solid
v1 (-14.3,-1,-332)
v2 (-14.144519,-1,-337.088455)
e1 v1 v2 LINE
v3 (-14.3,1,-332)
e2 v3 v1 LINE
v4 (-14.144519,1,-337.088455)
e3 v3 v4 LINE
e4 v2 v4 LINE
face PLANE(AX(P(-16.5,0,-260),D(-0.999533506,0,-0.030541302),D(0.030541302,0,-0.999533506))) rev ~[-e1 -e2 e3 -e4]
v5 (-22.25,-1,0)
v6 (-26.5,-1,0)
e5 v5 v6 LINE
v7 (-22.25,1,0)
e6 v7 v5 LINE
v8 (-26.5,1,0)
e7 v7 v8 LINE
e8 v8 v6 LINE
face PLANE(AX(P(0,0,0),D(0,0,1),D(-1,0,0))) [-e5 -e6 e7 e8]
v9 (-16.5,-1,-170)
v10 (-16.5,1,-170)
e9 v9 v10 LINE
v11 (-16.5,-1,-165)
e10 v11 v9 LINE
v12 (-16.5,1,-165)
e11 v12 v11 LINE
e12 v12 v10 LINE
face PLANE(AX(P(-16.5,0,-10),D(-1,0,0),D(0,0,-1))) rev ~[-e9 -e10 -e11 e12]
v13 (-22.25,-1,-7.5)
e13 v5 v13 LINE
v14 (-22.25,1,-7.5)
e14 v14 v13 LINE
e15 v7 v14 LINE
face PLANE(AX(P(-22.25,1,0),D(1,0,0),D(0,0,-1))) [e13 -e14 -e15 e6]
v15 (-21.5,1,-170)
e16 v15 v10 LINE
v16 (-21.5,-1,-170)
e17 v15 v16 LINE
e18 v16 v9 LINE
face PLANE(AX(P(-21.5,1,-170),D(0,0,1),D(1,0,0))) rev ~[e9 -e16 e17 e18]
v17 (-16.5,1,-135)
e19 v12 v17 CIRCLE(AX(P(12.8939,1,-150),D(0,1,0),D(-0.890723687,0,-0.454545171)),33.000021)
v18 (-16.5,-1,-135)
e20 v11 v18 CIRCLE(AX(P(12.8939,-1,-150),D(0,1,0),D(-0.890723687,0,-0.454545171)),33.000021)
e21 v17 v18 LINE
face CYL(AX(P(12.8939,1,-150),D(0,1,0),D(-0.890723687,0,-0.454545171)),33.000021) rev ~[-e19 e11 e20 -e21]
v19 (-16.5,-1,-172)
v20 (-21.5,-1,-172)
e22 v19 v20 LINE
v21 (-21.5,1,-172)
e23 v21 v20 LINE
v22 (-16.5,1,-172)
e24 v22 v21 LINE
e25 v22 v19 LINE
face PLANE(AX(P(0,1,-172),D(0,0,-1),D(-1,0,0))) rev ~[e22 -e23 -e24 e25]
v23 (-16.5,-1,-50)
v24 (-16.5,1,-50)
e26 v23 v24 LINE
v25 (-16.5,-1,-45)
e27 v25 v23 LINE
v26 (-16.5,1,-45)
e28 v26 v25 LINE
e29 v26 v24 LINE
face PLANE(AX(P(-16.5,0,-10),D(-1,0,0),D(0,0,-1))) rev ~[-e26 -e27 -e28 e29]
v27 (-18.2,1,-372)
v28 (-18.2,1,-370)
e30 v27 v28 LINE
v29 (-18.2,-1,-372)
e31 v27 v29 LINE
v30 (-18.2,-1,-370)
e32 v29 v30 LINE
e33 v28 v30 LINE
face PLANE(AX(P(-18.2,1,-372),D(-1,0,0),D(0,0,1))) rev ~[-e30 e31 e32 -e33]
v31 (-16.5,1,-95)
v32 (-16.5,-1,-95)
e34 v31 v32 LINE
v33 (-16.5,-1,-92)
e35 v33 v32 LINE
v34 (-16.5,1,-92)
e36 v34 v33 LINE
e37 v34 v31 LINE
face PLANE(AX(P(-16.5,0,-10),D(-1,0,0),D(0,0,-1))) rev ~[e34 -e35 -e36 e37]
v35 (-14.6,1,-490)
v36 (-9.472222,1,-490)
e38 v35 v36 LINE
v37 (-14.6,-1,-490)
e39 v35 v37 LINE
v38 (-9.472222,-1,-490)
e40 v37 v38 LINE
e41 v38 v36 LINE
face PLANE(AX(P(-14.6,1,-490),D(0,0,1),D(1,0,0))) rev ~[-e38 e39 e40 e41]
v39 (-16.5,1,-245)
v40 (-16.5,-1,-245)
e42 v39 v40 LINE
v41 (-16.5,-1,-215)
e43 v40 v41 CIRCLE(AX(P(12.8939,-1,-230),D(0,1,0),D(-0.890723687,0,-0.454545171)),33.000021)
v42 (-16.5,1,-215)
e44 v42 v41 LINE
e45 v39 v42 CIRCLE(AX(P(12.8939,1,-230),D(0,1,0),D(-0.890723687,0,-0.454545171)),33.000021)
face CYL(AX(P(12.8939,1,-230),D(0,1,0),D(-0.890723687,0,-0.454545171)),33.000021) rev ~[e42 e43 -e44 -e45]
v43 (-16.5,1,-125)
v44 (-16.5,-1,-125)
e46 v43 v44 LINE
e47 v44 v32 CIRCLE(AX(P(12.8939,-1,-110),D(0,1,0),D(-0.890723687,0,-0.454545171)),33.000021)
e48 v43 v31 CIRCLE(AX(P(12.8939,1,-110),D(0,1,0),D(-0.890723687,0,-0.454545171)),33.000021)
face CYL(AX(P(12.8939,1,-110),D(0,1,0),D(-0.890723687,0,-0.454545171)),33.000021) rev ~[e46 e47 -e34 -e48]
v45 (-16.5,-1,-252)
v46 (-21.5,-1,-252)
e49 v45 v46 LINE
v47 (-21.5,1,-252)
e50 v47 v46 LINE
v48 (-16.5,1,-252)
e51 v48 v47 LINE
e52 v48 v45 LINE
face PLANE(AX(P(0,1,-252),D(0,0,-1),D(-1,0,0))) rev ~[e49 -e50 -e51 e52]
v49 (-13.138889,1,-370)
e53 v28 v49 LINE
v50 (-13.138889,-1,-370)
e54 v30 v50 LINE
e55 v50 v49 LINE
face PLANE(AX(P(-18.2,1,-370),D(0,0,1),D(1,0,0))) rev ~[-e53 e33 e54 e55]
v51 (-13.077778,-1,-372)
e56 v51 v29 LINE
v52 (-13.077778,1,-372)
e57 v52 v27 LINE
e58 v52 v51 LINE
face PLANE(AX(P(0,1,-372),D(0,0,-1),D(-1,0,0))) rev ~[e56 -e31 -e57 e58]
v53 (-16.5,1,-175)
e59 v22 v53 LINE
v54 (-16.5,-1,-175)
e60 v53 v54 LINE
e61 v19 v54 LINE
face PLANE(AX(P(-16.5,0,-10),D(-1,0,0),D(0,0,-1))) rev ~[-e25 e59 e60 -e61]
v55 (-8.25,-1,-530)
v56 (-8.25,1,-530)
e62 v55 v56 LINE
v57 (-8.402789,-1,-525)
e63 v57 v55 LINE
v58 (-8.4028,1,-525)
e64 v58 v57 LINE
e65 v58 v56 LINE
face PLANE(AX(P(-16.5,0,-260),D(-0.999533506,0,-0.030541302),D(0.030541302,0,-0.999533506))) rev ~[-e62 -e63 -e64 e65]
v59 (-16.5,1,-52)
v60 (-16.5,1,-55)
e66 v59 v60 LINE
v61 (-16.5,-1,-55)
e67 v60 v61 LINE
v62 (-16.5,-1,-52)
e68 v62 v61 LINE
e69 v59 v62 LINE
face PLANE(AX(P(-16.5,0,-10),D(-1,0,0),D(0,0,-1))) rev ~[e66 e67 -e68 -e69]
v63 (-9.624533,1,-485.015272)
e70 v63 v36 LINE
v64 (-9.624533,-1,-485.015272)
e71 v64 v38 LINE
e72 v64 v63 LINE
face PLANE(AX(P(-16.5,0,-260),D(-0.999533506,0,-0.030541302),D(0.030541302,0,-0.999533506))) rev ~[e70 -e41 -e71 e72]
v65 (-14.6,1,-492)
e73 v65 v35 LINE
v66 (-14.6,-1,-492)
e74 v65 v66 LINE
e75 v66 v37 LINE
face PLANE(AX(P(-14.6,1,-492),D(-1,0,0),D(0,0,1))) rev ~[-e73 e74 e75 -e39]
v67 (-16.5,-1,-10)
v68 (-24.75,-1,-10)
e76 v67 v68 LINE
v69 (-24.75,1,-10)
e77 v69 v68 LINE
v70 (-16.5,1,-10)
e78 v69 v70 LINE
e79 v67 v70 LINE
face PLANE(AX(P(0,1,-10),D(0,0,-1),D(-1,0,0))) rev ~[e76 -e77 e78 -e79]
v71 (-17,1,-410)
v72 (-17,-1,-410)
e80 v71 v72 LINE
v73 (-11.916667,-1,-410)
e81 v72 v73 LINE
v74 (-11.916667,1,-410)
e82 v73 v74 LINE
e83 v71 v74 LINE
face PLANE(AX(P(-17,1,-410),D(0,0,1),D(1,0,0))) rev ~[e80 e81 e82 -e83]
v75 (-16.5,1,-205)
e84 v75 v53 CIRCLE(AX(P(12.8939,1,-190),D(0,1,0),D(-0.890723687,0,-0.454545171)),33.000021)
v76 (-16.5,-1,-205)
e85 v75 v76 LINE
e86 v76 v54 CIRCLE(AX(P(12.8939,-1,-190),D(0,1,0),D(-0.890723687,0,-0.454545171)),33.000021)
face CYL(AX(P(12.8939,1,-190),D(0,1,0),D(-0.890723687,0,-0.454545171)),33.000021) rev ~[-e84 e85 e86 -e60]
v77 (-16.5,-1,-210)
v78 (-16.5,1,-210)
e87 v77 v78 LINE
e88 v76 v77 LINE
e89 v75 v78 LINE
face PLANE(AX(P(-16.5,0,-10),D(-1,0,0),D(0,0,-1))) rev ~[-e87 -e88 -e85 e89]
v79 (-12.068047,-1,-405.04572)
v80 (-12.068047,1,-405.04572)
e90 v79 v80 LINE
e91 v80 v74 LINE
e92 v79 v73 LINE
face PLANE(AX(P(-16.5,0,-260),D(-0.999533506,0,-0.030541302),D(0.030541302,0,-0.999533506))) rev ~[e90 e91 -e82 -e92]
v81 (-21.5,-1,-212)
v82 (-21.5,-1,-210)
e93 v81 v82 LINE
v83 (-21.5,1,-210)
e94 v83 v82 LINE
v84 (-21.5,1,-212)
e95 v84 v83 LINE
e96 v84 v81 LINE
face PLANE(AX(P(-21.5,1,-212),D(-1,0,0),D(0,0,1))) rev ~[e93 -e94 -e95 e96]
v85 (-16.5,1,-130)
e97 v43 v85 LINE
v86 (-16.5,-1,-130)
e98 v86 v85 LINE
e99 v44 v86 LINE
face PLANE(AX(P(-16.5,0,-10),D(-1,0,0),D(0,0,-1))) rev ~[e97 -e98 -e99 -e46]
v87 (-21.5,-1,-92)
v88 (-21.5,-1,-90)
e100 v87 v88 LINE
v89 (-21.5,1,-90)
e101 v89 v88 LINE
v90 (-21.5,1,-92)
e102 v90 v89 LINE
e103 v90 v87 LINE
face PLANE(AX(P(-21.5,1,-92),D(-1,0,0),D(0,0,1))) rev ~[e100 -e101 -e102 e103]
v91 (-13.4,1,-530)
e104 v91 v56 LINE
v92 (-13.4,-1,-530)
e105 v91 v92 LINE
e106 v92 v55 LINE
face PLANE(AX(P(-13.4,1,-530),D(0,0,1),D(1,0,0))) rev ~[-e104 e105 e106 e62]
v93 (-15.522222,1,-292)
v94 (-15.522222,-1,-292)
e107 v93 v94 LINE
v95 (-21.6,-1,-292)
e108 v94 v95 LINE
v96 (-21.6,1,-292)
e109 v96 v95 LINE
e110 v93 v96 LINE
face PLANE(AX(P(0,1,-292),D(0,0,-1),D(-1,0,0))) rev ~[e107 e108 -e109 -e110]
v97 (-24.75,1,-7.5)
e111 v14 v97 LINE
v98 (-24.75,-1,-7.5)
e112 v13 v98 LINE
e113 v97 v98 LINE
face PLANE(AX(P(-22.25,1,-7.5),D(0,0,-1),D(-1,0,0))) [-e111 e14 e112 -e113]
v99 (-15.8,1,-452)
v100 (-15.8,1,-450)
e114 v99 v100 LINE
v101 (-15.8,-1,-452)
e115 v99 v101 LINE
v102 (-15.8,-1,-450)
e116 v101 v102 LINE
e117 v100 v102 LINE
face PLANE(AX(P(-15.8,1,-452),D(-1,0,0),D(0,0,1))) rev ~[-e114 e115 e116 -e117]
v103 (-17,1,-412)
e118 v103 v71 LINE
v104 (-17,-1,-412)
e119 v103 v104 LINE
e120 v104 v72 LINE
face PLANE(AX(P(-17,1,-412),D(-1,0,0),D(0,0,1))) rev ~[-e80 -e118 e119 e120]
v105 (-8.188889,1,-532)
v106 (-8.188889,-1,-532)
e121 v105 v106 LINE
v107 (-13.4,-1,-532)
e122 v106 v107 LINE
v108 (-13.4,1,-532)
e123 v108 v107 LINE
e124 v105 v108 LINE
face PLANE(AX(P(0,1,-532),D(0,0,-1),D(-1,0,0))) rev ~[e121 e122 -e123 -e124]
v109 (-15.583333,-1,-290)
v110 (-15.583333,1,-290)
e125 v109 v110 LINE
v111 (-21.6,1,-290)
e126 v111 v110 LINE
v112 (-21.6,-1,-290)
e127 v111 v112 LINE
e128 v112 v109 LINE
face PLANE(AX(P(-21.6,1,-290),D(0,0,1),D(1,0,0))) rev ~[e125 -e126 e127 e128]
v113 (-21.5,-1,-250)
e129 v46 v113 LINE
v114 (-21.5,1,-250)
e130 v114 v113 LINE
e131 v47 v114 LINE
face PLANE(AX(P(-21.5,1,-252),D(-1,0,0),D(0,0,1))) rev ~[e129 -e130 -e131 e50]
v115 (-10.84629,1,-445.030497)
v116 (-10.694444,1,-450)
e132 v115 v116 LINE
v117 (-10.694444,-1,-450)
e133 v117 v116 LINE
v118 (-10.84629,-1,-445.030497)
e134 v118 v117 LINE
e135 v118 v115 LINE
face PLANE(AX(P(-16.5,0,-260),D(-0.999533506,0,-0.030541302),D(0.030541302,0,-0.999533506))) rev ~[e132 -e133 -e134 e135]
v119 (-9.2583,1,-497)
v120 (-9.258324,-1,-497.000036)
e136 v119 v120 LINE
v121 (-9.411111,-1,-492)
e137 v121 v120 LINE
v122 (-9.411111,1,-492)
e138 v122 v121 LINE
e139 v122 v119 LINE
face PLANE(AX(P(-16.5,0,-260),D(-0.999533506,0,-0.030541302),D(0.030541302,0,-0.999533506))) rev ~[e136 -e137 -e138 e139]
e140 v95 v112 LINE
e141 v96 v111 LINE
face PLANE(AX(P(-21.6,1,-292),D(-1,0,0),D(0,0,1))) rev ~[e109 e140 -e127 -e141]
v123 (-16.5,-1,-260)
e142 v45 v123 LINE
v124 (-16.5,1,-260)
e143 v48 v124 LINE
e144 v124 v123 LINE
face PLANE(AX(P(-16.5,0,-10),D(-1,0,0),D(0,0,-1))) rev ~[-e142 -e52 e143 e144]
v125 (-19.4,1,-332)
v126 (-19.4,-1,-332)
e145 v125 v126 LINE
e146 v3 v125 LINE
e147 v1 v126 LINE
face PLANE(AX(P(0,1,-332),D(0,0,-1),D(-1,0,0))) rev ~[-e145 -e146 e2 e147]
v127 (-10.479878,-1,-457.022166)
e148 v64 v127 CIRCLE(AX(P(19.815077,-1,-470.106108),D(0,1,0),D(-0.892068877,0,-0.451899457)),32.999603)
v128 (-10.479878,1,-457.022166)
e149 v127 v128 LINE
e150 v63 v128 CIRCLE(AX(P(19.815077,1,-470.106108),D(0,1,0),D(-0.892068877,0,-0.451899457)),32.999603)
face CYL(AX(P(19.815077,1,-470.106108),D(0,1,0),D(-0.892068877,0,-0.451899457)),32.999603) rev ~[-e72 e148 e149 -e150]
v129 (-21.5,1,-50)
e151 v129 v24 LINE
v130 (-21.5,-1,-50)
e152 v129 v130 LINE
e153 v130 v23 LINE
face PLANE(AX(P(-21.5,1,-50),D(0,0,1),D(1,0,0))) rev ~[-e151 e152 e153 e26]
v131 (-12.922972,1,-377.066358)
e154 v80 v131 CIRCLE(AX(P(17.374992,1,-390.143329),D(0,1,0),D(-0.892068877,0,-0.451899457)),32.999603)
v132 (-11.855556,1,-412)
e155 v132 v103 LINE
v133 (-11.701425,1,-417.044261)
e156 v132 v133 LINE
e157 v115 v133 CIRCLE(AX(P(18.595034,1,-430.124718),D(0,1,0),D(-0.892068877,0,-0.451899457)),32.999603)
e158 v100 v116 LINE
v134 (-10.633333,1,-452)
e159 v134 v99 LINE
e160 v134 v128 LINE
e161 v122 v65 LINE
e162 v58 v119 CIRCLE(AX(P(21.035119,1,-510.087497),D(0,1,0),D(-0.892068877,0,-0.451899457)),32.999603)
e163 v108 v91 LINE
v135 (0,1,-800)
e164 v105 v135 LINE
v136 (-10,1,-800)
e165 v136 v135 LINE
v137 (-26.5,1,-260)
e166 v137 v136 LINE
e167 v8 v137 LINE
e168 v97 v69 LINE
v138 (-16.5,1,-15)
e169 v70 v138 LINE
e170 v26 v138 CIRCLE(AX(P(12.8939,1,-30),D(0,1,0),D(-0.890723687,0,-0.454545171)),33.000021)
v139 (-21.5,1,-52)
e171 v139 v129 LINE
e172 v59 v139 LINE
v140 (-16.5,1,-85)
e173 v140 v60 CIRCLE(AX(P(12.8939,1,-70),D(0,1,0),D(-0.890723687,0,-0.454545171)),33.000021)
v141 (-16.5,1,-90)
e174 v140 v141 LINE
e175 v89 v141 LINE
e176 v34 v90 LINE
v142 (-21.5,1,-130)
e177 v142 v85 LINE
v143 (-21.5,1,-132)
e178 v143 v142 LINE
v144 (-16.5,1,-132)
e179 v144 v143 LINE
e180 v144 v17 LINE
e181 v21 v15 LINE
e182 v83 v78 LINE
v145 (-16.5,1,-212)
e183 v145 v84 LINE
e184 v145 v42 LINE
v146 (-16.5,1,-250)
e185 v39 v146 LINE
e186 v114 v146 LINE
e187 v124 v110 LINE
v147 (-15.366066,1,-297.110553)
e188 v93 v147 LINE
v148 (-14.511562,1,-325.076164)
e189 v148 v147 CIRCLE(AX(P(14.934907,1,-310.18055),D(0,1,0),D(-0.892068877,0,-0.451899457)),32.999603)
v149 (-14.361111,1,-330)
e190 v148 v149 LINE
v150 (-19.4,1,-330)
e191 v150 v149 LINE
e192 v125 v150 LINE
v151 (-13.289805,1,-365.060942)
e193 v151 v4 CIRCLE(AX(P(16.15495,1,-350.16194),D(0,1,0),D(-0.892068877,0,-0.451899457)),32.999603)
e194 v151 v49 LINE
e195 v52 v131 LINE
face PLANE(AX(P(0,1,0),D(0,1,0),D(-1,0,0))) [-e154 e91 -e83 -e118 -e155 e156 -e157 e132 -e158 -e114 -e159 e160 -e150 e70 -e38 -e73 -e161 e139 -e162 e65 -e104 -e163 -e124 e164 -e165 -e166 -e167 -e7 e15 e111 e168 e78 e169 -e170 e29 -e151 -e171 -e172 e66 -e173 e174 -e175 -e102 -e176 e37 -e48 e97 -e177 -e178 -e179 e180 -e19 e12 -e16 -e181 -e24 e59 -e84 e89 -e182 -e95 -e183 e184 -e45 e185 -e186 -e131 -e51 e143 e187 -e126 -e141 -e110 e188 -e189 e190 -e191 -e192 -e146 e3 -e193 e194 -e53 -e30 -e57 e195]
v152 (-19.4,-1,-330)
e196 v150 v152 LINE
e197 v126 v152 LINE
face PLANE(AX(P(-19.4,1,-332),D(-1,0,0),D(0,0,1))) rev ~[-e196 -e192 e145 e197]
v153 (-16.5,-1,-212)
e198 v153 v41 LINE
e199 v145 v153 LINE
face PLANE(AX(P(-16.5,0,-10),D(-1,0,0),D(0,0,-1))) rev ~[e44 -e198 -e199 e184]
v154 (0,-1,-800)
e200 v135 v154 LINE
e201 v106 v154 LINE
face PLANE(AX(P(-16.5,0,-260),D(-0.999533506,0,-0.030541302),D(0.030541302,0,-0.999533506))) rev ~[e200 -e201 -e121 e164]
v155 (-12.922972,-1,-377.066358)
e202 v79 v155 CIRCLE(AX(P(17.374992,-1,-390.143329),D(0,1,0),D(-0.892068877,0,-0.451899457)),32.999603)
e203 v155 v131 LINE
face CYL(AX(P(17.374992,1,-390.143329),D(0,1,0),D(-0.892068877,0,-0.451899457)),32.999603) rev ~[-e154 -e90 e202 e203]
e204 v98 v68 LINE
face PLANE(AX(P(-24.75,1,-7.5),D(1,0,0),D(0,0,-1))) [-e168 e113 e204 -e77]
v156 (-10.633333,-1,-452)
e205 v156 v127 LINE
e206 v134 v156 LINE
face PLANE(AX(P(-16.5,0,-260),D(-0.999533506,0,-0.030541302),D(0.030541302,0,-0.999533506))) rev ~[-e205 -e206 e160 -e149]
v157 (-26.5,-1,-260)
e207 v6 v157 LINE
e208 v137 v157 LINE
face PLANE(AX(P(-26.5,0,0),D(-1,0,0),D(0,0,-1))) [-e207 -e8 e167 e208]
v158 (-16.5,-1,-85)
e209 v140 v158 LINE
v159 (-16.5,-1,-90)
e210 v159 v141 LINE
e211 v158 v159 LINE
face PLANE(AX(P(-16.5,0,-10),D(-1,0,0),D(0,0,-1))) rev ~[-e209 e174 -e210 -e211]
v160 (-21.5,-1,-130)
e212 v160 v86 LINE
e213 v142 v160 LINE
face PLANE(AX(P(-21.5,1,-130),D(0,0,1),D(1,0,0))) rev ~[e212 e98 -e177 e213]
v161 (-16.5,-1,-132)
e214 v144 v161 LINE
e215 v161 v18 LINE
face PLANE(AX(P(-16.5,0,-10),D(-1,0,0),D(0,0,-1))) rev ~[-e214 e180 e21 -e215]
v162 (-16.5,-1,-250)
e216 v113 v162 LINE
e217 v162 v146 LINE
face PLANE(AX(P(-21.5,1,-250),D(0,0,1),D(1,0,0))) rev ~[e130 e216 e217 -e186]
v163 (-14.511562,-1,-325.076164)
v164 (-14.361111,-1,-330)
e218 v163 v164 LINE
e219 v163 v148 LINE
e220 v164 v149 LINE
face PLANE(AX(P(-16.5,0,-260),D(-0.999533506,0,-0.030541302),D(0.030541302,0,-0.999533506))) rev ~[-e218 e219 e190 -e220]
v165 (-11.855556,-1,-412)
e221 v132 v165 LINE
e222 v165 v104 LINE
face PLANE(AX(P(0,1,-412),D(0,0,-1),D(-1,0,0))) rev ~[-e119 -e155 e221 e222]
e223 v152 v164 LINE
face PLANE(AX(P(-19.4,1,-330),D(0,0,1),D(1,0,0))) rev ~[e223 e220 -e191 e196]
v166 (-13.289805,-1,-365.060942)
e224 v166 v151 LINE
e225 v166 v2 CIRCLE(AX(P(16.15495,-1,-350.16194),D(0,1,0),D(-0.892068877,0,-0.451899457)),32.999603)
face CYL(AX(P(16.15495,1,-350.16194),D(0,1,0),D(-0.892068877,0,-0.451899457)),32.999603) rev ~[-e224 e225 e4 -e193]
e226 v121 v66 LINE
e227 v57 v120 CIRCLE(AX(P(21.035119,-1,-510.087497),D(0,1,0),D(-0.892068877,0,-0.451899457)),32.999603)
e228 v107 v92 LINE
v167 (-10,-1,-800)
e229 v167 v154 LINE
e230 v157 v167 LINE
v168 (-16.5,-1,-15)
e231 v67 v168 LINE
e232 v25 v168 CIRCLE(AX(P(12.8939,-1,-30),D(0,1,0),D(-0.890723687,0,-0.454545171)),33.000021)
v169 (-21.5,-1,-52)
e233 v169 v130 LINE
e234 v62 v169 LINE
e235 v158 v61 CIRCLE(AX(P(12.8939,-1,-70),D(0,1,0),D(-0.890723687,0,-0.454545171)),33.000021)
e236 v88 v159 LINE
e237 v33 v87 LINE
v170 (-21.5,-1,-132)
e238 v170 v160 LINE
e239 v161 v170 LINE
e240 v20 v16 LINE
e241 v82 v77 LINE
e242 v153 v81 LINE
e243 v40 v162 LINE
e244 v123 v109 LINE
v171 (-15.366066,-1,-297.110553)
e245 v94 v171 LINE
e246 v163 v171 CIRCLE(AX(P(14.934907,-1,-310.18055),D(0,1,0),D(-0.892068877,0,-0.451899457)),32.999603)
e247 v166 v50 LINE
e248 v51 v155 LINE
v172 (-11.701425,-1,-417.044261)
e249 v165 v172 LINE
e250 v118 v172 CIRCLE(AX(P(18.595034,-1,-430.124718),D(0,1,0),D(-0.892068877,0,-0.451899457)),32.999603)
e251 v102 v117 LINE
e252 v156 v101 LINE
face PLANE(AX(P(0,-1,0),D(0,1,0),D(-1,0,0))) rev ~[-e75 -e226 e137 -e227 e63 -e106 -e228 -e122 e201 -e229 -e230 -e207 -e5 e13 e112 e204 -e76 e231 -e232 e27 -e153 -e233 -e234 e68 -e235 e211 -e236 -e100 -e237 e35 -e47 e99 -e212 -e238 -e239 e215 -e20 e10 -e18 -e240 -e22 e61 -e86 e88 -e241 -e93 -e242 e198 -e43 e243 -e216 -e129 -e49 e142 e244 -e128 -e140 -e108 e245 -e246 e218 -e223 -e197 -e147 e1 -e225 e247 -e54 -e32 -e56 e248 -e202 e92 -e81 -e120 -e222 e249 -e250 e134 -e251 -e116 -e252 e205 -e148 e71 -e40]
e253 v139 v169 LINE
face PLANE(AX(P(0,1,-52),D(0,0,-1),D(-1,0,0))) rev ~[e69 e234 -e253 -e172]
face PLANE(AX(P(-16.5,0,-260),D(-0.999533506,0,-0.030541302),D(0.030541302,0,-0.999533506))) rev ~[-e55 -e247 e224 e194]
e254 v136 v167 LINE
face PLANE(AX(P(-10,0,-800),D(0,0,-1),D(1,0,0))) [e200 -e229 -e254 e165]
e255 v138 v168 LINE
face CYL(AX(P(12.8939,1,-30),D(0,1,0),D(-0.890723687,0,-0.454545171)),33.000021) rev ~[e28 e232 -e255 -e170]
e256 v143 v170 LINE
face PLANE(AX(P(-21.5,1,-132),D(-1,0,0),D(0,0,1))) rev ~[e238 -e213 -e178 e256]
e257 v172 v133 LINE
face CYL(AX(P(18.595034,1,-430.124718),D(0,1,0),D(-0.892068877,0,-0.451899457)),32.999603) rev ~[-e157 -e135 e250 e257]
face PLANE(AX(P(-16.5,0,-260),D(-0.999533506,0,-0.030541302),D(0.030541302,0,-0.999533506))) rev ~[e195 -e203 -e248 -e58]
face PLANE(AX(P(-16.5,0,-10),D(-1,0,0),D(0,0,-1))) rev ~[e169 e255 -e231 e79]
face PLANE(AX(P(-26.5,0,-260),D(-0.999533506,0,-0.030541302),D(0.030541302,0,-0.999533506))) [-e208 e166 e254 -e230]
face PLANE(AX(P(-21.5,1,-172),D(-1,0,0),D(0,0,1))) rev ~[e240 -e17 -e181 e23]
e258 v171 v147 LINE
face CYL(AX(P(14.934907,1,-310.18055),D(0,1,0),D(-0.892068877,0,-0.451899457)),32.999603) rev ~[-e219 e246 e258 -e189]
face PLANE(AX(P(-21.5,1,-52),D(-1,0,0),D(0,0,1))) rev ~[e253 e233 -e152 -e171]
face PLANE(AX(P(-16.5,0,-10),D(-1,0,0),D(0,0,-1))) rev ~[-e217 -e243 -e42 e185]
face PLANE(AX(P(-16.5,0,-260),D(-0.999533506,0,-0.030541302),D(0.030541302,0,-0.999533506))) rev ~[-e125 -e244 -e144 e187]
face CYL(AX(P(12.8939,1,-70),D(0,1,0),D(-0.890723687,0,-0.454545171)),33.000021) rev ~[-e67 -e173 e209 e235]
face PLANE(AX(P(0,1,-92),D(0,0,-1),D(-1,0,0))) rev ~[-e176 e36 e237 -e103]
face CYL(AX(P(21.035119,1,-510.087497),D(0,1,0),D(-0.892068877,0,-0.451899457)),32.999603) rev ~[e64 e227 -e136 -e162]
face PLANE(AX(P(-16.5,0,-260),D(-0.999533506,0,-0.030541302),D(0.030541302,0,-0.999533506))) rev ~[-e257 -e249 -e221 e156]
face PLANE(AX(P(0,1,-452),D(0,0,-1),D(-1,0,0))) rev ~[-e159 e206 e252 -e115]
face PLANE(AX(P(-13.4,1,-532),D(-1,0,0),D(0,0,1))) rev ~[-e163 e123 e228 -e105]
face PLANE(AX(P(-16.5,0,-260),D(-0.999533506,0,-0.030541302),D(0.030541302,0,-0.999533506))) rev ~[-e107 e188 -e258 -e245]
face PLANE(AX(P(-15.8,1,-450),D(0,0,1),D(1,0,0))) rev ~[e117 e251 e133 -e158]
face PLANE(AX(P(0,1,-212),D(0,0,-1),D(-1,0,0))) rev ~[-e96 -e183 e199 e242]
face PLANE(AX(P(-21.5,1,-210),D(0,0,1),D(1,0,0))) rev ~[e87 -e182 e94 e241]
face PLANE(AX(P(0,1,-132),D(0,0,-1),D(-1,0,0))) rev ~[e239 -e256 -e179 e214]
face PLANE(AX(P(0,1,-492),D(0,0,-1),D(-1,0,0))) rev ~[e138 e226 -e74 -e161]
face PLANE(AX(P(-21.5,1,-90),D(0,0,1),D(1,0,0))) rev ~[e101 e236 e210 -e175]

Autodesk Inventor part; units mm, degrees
ref_plane "YZ Plane" through (0, 0, 0) normal (1, 0, 0) x (0, 1, 0)
ref_plane "XZ Plane" through (0, 0, 0) normal (0, 1, 0) x (-1, 0, 0)
ref_plane "XY Plane" through (0, 0, 0) normal (0, 0, 1) x (1, 0, 0)
sketch "Sketch1" plane through (0, 0, 0) normal (0, 1, 0) x (-1, 0, 0)
  line L0 (0, 0) -> (26.5, 0)
  line L1 (26.5, 0) -> (26.5, -260)
  line L2 (26.5, -260) -> (10, -800)
  line L3 (10, -800) -> (0, -800)
  line L4 (0, 0) -> (0, -10)
  line L5 (0, -10) -> (16.5, -10)
  line L6 (16.5, -10) -> (16.5, -260)
  line L7 (16.5, -260) -> (0, -800)
  dimension "d1" = 26.5
  dimension "d2" = 10
  dimension "d3" = 260
  dimension "d4" = 10
  dimension "d6" = 10
  dimension "d7" = 250
  dimension "d8" = 0
  dimension "d9" = 800
extrude "Extrusion1" add sketch "Sketch1" along normal mid plane 2
sketch "Sketch2" plane through (0, 1, 0) normal (0, 1, 0) x (1, 0, 0)
  line L0 (-21.5, 50) -> (0, 50)
  line L1 (0, 50) -> (0, 52)
  line L2 (0, 52) -> (-21.5, 52)
  line L3 (-21.5, 52) -> (-21.5, 50)
  line L4 (0, 0) -> (0, 10) projected
  line L5 (0, 10) -> (-16.5, 10) projected
  dimension "d12" = 2
  dimension "d13" = 21.5
  dimension "d14" = 0
  dimension "d16" = 40
extrude "Extrusion2" cut sketch "Sketch2" against normal through all
pattern_linear "Rectangular Pattern1" count 6 spacing 40 along (0, 0, -1) of "Extrusion2"
sketch "Sketch3" plane through (0, 1, 0) normal (0, 1, 0) x (1, 0, 0)
  line L0 (-21.6, 290) -> (0, 290)
  line L1 (0, 290) -> (0, 292)
  line L2 (0, 292) -> (-21.6, 292)
  line L3 (-21.6, 292) -> (-21.6, 290)
  line L4 (0, 0) -> (0, 10) projected
  line L5 (-16.5, 250) -> (-21.5, 250) projected
  line L6 (-19.4, 330) -> (0, 330)
  line L7 (0, 330) -> (0, 332)
  line L8 (0, 332) -> (-19.4, 332)
  line L9 (-19.4, 332) -> (-19.4, 330)
  line L10 (-18.2, 370) -> (0, 370)
  line L11 (0, 370) -> (0, 372)
  line L12 (0, 372) -> (-18.2, 372)
  line L13 (-18.2, 372) -> (-18.2, 370)
  line L14 (-17, 410) -> (0, 410)
  line L15 (0, 410) -> (0, 412)
  line L16 (0, 412) -> (-17, 412)
  line L17 (-17, 412) -> (-17, 410)
  line L18 (-15.8, 450) -> (0, 450)
  line L19 (0, 450) -> (0, 452)
  line L20 (0, 452) -> (-15.8, 452)
  line L21 (-15.8, 452) -> (-15.8, 450)
  line L22 (-14.6, 490) -> (0, 490)
  line L23 (0, 490) -> (0, 492)
  line L24 (0, 492) -> (-14.6, 492)
  line L25 (-14.6, 492) -> (-14.6, 490)
  line L26 (-13.4, 530) -> (0, 530)
  line L27 (0, 530) -> (0, 532)
  line L28 (0, 532) -> (-13.4, 532)
  line L29 (-13.4, 532) -> (-13.4, 530)
  point P0 (-26.5, 250)
  dimension "d22" = 2
  dimension "d23" = 0
  dimension "d24" = 40
  dimension "d25" = 21.6
  dimension "d84" = 40
  dimension "d85" = 2
  dimension "d86" = 0
  dimension "d87" = 19.4
  dimension "d88" = 40
  dimension "d89" = 2
  dimension "d90" = 0
  dimension "d91" = 18.2
  dimension "d92" = 40
  dimension "d93" = 2
  dimension "d94" = 0
  dimension "d95" = 17
  dimension "d96" = 40
  dimension "d97" = 2
  dimension "d98" = 0
  dimension "d99" = 15.8
  dimension "d100" = 40
  dimension "d101" = 2
  dimension "d102" = 0
  dimension "d103" = 14.6
  dimension "d104" = 40
  dimension "d105" = 2
  dimension "d106" = 13.4
  dimension "d107" = 0
extrude "Extrusion3" cut sketch "Sketch3" against normal through all
sketch "Sketch11" plane through (0, 1, 0) normal (0, 1, 0) x (1, 0, 0)
  line L0 (-22.25, 0) -> (0, 0)
  line L1 (0, 0) -> (0, 10)
  line L2 (0, 10) -> (-22.25, 10)
  line L3 (-22.25, 0) -> (-22.25, 7.5)
  line L4 (-22.25, 7.5) -> (-24.75, 7.5)
  line L5 (-24.75, 7.5) -> (-24.75, 10)
  line L6 (-24.75, 10) -> (-22.25, 10)
  dimension "d108" = 2.5
  dimension "d110" = 2.5
  dimension "d111" = 10
  dimension "d112" = 24.75
extrude "Extrusion11" cut sketch "Sketch11" against normal blind 10
sketch "Sketch12" plane through (0, 1, 0) normal (0, 1, 0) x (1, 0, 0)
  line L0 (-16.5, 50) -> (-16.5, 10) projected
  arc A0 (-16.5, 45) -> (-16.5, 15) centre (12.8939, 30) ccw
  line L1 (-24.75, 10) -> (-16.5, 10) projected
  line L2 (-16.5, 50) -> (-21.5, 50) projected
  line L3 (-16.5, 15) -> (-16.5, 45)
  point P0 (0, 0)
  dimension "d115" = 33
  dimension "d116" = 5
  dimension "d117" = 5
extrude "Extrusion12" cut sketch "Sketch12" against normal blind 10
pattern_linear "Rectangular Pattern2" count 6 spacing 40 along (0, 0, -1) of "Extrusion12"
sketch "Sketch13" plane through (0, 1, 0) normal (0, 1, 0) x (1, 0, 0)
  arc A0 (-8.4028, 525) -> (-9.2583, 497) centre (21.0355, 510.0874) ccw
  line L0 (-9.2583, 497) -> (-8.4028, 525)
  line L1 (-14.6, 492) -> (-9.4111, 492) projected
  line L2 (-8.25, 530) -> (-13.4, 530) projected
  line L3 (-9.4111, 492) -> (-8.25, 530) projected
  point P0 (0, 0)
  dimension "d123" = 5
  dimension "d124" = 5
  dimension "d125" = 33
extrude "Extrusion13" cut sketch "Sketch13" against normal blind 10
pattern_linear "Rectangular Pattern3" count 6 spacing 40 along (-0.0305, 0, 0.9995) of "Extrusion13"
properties part number "traverse_cote"
